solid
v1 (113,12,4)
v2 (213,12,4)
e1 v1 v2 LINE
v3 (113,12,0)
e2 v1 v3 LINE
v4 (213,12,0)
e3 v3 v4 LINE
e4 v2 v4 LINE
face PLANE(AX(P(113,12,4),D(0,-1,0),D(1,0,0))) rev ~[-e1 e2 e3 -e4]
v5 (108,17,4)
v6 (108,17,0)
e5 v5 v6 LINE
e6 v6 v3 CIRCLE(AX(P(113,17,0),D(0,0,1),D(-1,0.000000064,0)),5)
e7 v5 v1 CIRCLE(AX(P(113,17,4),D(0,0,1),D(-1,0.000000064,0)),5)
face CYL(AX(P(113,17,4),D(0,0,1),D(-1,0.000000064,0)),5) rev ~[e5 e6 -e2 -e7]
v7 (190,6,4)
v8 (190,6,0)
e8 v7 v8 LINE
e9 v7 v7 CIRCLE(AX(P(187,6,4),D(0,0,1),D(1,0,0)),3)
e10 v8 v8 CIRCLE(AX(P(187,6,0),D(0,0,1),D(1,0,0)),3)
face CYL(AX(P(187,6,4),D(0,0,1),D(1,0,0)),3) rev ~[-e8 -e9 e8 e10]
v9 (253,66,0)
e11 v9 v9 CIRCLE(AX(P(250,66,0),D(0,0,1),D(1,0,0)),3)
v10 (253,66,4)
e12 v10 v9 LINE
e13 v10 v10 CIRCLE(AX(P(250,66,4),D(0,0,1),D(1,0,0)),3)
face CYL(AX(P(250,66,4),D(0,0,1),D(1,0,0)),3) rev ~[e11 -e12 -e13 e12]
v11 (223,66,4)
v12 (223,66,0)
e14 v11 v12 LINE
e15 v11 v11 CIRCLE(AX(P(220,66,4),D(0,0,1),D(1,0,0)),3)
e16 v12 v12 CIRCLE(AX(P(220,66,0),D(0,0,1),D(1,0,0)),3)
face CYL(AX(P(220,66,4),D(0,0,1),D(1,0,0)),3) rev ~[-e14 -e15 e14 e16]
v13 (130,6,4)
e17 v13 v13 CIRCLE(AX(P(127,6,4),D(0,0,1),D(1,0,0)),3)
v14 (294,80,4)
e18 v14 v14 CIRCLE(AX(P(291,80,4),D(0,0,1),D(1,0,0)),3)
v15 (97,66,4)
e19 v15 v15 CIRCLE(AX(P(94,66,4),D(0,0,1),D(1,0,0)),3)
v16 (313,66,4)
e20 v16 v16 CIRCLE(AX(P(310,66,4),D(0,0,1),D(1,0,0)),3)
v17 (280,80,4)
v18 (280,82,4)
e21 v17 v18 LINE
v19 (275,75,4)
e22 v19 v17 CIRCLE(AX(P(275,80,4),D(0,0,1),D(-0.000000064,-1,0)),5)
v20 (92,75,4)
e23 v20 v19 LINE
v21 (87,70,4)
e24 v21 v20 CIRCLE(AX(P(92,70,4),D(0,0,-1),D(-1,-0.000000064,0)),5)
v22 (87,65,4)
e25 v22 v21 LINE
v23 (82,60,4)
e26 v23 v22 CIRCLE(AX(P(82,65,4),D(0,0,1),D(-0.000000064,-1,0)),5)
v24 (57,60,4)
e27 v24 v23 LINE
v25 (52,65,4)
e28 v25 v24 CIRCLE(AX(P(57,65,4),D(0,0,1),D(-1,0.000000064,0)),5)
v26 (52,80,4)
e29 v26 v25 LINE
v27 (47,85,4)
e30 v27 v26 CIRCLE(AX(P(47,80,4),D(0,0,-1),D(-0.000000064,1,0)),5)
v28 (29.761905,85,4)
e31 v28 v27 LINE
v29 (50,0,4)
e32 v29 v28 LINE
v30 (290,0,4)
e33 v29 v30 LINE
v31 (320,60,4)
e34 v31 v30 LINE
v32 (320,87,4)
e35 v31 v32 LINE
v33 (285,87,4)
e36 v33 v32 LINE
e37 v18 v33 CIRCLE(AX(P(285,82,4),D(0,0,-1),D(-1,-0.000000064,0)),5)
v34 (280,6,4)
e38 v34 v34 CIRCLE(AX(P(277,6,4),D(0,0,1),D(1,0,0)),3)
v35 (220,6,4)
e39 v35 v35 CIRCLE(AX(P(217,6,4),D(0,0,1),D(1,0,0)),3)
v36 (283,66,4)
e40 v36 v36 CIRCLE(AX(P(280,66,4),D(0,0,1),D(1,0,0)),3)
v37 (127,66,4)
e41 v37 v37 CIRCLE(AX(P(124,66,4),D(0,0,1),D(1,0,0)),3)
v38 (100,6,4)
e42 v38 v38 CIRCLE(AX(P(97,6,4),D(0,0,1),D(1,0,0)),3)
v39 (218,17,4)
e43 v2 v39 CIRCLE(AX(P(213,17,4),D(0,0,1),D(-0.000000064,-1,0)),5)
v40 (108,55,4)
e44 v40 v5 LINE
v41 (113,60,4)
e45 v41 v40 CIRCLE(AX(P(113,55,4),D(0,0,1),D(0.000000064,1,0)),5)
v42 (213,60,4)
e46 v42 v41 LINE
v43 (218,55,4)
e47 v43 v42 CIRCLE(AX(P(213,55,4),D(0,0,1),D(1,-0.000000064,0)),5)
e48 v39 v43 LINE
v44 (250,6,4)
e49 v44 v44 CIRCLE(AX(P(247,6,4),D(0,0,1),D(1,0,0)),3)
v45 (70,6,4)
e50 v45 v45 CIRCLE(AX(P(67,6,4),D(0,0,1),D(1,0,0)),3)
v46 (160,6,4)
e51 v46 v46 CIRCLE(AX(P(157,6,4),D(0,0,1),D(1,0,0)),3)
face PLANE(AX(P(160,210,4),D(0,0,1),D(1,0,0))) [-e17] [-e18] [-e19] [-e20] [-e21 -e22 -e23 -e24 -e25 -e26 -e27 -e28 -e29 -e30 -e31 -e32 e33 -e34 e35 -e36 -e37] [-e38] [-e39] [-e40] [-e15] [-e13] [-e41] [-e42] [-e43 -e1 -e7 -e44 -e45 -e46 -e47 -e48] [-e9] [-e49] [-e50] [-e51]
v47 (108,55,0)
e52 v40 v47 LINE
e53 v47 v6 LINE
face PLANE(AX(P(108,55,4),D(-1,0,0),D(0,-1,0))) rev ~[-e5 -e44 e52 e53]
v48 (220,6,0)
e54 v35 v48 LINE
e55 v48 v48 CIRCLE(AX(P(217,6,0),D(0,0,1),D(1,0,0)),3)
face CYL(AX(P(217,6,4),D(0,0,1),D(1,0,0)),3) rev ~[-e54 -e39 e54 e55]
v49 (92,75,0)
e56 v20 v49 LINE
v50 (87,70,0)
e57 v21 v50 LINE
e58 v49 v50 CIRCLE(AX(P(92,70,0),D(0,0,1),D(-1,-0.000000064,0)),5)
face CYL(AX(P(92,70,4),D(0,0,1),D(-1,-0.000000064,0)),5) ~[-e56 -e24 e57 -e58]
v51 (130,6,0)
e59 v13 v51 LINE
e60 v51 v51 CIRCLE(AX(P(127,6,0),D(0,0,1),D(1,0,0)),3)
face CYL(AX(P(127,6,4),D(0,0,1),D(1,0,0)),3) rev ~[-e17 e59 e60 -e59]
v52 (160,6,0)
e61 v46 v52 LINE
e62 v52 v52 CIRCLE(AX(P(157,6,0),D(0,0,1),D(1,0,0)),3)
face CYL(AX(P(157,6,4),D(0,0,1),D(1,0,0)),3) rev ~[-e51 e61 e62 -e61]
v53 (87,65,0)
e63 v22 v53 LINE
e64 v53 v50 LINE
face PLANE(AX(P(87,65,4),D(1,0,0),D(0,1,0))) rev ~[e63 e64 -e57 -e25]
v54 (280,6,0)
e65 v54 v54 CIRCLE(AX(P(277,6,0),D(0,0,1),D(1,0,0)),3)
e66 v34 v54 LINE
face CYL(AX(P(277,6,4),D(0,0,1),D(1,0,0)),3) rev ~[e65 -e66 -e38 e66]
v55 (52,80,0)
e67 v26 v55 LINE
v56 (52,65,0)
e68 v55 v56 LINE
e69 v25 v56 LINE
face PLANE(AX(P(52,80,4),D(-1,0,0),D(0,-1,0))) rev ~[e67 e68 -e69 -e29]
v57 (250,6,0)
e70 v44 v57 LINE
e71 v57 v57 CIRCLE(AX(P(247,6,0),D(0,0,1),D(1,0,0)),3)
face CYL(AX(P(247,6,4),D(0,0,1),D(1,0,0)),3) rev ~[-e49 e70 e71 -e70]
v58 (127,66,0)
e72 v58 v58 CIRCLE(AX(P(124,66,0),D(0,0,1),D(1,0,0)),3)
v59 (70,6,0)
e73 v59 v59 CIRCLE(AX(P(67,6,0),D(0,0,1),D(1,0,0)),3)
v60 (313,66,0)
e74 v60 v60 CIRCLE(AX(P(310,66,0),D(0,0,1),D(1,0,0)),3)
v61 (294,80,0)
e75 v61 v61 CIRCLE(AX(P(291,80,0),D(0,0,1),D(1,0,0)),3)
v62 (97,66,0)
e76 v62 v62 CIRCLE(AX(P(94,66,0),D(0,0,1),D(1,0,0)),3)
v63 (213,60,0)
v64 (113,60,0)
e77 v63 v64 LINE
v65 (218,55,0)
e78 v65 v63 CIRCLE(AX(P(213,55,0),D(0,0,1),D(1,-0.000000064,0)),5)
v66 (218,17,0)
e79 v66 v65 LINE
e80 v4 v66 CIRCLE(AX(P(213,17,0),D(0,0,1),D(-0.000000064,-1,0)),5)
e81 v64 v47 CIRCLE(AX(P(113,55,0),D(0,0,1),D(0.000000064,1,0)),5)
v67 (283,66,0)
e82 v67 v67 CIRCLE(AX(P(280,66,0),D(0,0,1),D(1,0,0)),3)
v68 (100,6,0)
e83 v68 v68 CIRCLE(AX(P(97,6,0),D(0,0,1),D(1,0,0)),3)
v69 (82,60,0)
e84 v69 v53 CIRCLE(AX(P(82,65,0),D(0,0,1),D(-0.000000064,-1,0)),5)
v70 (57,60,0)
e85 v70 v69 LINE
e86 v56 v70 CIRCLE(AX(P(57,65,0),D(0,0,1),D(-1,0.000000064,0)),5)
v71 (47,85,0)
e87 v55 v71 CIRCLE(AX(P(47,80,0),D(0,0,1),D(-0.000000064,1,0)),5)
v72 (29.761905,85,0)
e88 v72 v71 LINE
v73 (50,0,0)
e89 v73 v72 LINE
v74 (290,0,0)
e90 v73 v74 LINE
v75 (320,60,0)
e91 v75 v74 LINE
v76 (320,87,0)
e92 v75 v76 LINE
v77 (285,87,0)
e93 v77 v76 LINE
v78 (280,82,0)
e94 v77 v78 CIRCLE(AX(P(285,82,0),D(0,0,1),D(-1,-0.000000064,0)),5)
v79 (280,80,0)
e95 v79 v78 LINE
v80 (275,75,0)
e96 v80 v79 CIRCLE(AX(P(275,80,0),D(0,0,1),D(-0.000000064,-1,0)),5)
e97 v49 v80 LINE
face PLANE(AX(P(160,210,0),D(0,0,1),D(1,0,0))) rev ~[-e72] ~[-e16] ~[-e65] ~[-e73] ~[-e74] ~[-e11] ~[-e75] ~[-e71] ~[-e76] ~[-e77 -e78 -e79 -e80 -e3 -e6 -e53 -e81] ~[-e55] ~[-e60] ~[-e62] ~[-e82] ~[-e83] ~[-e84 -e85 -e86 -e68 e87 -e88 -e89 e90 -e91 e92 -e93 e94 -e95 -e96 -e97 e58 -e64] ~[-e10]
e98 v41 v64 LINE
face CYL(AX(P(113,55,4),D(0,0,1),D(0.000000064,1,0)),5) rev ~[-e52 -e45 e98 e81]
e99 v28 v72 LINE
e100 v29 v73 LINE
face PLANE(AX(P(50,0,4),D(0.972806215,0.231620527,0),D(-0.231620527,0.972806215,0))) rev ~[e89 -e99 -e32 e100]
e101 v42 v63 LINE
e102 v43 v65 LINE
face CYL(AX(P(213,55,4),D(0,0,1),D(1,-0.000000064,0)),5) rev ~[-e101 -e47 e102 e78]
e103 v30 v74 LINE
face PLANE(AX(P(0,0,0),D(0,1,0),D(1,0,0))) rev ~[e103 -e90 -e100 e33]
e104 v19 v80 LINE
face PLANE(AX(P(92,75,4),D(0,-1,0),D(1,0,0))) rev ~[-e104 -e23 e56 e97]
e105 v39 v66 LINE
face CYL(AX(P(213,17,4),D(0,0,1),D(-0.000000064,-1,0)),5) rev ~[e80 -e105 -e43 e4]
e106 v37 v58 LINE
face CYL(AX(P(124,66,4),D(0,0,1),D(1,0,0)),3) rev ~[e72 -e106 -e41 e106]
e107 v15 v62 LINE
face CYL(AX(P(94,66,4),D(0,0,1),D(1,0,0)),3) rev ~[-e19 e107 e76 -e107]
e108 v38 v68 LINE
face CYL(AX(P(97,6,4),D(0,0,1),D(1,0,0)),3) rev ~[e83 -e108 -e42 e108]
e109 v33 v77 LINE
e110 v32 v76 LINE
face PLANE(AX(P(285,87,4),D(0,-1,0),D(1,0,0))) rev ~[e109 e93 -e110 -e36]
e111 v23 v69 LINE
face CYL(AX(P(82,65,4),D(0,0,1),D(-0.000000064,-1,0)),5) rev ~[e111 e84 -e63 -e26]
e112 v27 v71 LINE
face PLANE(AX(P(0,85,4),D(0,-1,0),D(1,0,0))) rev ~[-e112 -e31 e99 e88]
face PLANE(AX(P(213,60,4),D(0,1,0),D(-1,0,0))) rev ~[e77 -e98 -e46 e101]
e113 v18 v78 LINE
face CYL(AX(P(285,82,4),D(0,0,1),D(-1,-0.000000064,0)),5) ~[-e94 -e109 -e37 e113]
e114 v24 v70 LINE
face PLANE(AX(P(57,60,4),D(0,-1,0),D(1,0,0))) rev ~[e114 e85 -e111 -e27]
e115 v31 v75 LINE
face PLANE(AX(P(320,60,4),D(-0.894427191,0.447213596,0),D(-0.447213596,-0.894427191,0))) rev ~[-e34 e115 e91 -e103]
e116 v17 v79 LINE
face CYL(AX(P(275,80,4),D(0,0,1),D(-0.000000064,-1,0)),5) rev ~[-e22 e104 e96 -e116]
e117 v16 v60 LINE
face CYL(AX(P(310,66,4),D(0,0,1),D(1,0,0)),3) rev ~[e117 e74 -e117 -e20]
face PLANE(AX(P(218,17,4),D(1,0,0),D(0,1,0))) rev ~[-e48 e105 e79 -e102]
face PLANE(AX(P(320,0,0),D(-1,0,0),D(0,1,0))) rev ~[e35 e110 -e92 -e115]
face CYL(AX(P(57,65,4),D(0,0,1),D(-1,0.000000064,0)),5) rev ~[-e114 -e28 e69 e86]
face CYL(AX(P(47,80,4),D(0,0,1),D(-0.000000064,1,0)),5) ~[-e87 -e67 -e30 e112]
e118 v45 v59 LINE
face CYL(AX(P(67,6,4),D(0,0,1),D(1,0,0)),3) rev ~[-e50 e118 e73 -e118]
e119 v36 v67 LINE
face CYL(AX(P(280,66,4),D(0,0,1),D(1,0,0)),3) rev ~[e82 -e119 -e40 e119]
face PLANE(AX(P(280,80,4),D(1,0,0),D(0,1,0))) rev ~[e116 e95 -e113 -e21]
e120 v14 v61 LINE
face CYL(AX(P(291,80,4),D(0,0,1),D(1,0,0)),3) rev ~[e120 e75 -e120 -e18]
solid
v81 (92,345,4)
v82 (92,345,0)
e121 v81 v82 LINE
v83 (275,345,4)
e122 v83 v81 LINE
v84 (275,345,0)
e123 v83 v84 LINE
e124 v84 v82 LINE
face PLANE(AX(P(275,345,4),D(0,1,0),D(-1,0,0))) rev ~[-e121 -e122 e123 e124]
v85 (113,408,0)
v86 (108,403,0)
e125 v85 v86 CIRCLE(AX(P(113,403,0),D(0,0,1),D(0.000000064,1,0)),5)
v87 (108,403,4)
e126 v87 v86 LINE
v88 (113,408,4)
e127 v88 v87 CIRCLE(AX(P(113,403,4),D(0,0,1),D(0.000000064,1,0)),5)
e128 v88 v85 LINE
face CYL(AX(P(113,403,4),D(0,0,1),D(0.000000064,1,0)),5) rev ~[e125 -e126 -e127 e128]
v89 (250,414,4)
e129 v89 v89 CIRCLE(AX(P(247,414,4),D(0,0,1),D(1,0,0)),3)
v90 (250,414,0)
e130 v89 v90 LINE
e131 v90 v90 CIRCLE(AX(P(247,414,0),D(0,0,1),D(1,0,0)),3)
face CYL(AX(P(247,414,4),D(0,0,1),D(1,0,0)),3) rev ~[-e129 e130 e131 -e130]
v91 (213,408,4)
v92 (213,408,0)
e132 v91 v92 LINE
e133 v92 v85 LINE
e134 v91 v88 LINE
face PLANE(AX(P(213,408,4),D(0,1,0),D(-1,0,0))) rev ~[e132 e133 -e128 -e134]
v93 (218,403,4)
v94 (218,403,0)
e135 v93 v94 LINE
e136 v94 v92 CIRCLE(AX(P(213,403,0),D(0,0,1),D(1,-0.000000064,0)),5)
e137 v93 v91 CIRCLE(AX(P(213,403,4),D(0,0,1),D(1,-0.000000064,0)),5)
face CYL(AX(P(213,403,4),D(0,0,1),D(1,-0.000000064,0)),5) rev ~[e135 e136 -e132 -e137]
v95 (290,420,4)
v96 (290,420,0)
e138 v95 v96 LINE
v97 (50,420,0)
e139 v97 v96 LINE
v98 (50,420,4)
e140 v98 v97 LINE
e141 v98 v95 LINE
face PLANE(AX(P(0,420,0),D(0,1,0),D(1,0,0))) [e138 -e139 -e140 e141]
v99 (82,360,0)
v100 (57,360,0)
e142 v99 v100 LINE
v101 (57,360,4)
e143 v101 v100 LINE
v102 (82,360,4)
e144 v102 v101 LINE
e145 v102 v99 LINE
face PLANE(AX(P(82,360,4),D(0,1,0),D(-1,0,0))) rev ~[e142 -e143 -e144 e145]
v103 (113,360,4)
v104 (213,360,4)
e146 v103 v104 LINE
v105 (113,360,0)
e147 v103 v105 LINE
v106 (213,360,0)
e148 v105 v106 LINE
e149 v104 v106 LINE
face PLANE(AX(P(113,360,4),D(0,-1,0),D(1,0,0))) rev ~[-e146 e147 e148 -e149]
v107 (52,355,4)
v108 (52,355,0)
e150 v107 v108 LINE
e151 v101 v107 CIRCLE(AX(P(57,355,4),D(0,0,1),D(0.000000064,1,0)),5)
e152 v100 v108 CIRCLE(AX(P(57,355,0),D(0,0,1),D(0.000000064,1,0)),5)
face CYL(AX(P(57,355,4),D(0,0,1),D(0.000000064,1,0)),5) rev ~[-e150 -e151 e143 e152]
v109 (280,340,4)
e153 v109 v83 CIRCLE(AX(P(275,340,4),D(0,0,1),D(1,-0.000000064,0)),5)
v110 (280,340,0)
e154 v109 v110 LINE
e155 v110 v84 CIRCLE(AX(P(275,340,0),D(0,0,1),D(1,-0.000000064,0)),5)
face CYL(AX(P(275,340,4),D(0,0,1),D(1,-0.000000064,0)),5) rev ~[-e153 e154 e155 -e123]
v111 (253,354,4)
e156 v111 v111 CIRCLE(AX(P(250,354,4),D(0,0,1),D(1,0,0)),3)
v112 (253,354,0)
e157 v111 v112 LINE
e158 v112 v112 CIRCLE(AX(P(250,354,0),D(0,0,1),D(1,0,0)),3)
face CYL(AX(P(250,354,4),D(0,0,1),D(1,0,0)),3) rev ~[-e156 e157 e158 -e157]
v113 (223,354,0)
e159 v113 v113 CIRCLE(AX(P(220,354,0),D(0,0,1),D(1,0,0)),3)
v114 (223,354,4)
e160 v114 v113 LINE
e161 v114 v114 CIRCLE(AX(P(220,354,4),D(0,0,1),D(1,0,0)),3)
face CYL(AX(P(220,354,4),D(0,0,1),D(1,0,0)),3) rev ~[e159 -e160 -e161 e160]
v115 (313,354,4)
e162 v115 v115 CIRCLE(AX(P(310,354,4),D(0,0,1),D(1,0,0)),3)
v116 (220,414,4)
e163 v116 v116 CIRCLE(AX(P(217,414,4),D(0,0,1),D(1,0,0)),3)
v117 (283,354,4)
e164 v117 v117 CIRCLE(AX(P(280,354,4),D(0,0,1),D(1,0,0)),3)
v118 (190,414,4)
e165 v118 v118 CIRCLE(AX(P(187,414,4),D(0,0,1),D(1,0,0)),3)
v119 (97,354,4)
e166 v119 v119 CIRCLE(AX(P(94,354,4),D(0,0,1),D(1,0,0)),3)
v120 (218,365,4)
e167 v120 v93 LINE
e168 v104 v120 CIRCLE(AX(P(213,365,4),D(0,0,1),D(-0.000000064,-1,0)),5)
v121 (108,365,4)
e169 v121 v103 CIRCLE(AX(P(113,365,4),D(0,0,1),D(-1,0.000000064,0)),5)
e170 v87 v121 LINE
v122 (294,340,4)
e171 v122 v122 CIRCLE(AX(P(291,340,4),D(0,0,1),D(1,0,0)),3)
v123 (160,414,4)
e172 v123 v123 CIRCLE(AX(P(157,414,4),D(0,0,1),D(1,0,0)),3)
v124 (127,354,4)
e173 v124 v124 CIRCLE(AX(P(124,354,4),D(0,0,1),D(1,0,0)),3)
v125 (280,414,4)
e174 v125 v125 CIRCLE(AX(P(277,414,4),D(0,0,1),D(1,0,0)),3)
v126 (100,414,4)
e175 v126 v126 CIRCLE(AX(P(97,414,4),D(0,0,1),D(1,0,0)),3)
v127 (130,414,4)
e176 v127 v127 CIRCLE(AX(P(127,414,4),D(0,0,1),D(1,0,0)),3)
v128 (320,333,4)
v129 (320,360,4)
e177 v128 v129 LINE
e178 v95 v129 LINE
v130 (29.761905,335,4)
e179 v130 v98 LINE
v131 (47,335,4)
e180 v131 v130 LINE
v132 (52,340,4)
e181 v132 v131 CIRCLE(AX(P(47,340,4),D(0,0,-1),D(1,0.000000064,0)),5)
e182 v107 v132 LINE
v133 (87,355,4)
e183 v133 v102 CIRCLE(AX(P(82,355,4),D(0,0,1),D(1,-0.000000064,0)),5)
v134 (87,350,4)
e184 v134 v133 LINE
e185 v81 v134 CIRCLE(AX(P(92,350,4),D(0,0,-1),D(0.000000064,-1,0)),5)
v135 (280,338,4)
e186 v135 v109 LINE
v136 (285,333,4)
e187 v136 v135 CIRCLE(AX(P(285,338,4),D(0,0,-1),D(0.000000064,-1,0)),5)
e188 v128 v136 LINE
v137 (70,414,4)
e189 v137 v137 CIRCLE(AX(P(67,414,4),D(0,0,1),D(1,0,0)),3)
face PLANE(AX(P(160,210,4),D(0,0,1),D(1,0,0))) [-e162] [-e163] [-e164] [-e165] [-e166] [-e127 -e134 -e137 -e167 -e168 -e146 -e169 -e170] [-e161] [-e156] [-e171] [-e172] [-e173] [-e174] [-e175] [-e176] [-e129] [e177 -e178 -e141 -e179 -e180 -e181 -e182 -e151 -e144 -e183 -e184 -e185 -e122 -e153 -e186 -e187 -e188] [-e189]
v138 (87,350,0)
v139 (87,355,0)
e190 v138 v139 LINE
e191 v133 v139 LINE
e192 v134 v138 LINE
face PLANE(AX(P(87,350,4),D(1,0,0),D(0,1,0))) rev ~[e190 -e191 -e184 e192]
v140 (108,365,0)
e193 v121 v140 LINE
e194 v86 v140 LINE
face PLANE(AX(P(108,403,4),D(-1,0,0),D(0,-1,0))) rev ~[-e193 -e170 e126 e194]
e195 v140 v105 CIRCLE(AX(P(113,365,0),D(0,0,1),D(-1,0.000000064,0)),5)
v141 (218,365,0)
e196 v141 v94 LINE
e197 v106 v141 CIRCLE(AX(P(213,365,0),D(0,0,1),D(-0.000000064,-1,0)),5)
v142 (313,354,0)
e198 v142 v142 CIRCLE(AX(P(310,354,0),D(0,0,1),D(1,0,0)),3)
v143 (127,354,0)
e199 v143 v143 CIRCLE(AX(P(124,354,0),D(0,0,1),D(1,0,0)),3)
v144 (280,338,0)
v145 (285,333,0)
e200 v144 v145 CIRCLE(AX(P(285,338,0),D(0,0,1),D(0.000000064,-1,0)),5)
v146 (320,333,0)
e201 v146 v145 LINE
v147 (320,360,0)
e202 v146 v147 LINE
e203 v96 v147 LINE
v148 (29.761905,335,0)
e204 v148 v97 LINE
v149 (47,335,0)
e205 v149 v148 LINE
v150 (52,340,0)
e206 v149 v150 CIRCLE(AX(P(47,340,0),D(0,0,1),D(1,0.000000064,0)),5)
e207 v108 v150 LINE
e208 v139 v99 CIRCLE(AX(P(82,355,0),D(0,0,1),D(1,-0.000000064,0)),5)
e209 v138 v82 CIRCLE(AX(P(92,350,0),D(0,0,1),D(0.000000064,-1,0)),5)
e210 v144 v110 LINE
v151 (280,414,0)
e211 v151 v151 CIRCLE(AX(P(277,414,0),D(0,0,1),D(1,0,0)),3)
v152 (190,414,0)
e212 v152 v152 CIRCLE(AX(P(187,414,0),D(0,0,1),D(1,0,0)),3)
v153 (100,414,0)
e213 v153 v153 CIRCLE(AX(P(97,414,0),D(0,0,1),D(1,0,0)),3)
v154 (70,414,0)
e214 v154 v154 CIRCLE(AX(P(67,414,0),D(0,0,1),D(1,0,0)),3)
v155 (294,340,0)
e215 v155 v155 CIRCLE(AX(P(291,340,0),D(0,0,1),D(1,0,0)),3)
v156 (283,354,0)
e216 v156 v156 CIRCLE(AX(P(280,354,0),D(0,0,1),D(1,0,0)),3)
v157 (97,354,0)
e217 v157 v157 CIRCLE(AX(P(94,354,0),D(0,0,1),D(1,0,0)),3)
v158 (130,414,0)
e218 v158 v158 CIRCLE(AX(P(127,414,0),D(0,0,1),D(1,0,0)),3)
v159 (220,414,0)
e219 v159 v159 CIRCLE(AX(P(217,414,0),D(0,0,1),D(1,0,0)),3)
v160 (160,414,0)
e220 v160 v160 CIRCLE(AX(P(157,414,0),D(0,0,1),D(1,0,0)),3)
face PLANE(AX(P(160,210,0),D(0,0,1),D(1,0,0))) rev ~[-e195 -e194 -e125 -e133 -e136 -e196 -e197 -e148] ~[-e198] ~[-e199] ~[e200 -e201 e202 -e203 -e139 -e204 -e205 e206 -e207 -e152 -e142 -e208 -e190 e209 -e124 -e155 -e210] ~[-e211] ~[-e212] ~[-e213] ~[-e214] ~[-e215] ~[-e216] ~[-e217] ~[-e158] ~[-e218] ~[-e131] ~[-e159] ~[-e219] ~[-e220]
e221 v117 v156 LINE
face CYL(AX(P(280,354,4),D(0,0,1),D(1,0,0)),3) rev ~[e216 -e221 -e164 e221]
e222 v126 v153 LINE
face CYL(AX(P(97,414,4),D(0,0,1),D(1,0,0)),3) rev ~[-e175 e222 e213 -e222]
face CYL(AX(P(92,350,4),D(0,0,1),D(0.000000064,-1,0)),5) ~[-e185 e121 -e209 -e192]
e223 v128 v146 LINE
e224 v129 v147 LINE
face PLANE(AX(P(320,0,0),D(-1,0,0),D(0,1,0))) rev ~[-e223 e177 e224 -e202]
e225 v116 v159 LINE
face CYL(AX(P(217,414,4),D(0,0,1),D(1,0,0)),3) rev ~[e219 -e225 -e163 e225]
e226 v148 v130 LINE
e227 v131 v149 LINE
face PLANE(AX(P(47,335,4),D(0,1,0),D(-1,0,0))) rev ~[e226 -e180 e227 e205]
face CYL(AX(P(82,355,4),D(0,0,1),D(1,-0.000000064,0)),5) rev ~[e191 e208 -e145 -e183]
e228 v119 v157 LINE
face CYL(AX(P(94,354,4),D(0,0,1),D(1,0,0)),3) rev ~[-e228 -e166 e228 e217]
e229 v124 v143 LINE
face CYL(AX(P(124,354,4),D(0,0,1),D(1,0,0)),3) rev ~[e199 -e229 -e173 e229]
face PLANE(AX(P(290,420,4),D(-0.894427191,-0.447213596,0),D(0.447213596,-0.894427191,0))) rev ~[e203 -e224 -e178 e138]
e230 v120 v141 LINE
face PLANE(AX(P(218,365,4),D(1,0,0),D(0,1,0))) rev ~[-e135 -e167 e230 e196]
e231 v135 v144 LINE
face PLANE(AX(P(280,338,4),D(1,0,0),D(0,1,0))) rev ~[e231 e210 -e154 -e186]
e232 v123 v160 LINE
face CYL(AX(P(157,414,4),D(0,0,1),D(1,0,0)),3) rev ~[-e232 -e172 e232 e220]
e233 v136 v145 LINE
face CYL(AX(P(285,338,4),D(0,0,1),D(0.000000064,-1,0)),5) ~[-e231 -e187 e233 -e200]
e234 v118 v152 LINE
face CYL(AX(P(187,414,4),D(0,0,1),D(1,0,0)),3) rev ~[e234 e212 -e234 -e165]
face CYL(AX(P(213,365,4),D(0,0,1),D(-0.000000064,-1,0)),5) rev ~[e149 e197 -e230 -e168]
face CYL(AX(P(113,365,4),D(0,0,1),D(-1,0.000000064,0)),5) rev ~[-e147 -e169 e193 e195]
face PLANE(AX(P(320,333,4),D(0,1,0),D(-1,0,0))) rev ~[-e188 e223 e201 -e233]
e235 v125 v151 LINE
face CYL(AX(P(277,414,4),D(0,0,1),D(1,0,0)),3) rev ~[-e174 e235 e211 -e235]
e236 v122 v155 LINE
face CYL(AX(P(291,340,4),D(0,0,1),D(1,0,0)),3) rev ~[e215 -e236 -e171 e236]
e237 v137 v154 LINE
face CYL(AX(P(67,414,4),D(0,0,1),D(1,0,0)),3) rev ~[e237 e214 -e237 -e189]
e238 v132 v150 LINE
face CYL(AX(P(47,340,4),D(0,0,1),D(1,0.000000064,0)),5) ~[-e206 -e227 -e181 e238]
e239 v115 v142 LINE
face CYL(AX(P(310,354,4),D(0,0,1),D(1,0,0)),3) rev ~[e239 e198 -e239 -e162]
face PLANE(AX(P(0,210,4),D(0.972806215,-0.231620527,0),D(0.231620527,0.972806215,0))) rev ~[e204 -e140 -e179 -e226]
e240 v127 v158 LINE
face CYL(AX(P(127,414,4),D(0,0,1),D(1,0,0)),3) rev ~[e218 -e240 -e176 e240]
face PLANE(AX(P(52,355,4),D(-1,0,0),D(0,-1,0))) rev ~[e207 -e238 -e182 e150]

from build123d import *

# Parameters (mm, degrees)
F0_W      = 320
F0_H      = 420
F1_DEPTH  = 4
F3_DEPTH  = 4
F4_R      = 3
F5_DEPTH  = 25
F6_R      = 3
F7_DEPTH  = 25
F8_R      = 3
F9_DEPTH  = 25
F11_DEPTH = 25


with BuildPart() as f1:
    # F0 (on Top) → F1 (new body)
    with BuildSketch(Plane.XY):
        with Locations((160, 210)):
            Rectangle(F0_W, F0_H)
    extrude(amount=F1_DEPTH)

    # F2 (on face) → F3 (cut, through all)
    with BuildSketch(Plane.XY.offset(4)):
        Polygon((320, 420), (290, 420), (320, 360), align=None)
        Polygon((320, 60), (290, 0), (320, 0), align=None)
        with BuildLine():
            Line((113, 360), (213, 360))
            ThreePointArc((213, 360), (216.535534, 361.464466), (218, 365))
            Line((218, 365), (218, 403))
            ThreePointArc((218, 403), (216.535534, 406.535534), (213, 408))
            Line((213, 408), (113, 408))
            ThreePointArc((113, 408), (109.464466, 406.535534), (108, 403))
            Line((108, 403), (108, 365))
            ThreePointArc((108, 365), (109.464466, 361.464466), (113, 360))
        make_face()
        with BuildLine():
            Line((113, 12), (213, 12))
            ThreePointArc((213, 12), (216.535534, 13.464466), (218, 17))
            Line((218, 17), (218, 55))
            ThreePointArc((218, 55), (216.535534, 58.535534), (213, 60))
            Line((213, 60), (113, 60))
            ThreePointArc((113, 60), (109.464466, 58.535534), (108, 55))
            Line((108, 55), (108, 17))
            ThreePointArc((108, 17), (109.464466, 13.464466), (113, 12))
        make_face()
        Polygon((0, 420), (0, 210), (50, 420), align=None)
        Polygon((50, 0), (0, 210), (0, 0), align=None)
    extrude(amount=-F3_DEPTH, mode=Mode.SUBTRACT)

    # F4 (on face) → F5 (cut)
    with BuildSketch(Plane.XY.offset(4)):
        with Locations((67, 6)):
            Circle(F4_R)
        with Locations((97, 6)):
            Circle(F4_R)
        with Locations((127, 6)):
            Circle(F4_R)
        with Locations((157, 6)):
            Circle(F4_R)
        with Locations((187, 6)):
            Circle(F4_R)
        with Locations((217, 6)):
            Circle(F4_R)
        with Locations((247, 6)):
            Circle(F4_R)
        with Locations((277, 6)):
            Circle(F4_R)
        with Locations((64, 66)):
            Circle(F4_R)
        with Locations((94, 66)):
            Circle(F4_R)
        with Locations((124, 66)):
            Circle(F4_R)
        with Locations((220, 66)):
            Circle(F4_R)
        with Locations((250, 66)):
            Circle(F4_R)
        with Locations((280, 66)):
            Circle(F4_R)
        with Locations((310, 66)):
            Circle(F4_R)
        with Locations((67, 414)):
            Circle(F4_R)
        with Locations((64, 354)):
            Circle(F4_R)
        with Locations((97, 414)):
            Circle(F4_R)
        with Locations((310, 354)):
            Circle(F4_R)
        with Locations((277, 414)):
            Circle(F4_R)
        with Locations((94, 354)):
            Circle(F4_R)
        with Locations((220, 354)):
            Circle(F4_R)
        with Locations((280, 354)):
            Circle(F4_R)
        with Locations((124, 354)):
            Circle(F4_R)
        with Locations((127, 414)):
            Circle(F4_R)
        with Locations((250, 354)):
            Circle(F4_R)
        with Locations((157, 414)):
            Circle(F4_R)
        with Locations((187, 414)):
            Circle(F4_R)
        with Locations((217, 414)):
            Circle(F4_R)
        with Locations((247, 414)):
            Circle(F4_R)
    extrude(amount=-F5_DEPTH, mode=Mode.SUBTRACT)

    # F6 (on face) → F7 (cut)
    with BuildSketch(Plane.XY.offset(4)):
        with Locations((121, 90)):
            Circle(F6_R)
        with Locations((121, 130)):
            Circle(F6_R)
        with Locations((121, 170)):
            Circle(F6_R)
        with Locations((206, 90)):
            Circle(F6_R)
        with Locations((206, 130)):
            Circle(F6_R)
        with Locations((206, 170)):
            Circle(F6_R)
        with Locations((291, 80)):
            Circle(F6_R)
        with Locations((291, 120)):
            Circle(F6_R)
        with Locations((291, 160)):
            Circle(F6_R)
        with Locations((121, 330)):
            Circle(F6_R)
        with Locations((121, 290)):
            Circle(F6_R)
        with Locations((206, 330)):
            Circle(F6_R)
        with Locations((206, 250)):
            Circle(F6_R)
        with Locations((291, 340)):
            Circle(F6_R)
        with Locations((121, 250)):
            Circle(F6_R)
        with Locations((206, 290)):
            Circle(F6_R)
        with Locations((291, 300)):
            Circle(F6_R)
        with Locations((291, 260)):
            Circle(F6_R)
    extrude(amount=-F7_DEPTH, mode=Mode.SUBTRACT)

    # F8 (on face) → F9 (cut)
    with BuildSketch(Plane.XY.offset(4)):
        with Locations((15, 210)):
            Circle(F8_R)
        with Locations((45, 210)):
            Circle(F8_R)
    extrude(amount=-F9_DEPTH, mode=Mode.SUBTRACT)

    # F10 (on face) → F11 (cut)
    with BuildSketch(Plane.XY.offset(4)):
        with BuildLine():
            Line((87, 350), (87, 355))
            ThreePointArc((87, 355), (85.535534, 358.535534), (82, 360))
            Line((82, 360), (57, 360))
            ThreePointArc((57, 360), (53.464466, 358.535534), (52, 355))
            Line((52, 355), (52, 340))
            ThreePointArc((52, 340), (50.535534, 336.464466), (47, 335))
            Line((47, 335), (0, 335))
            Line((0, 335), (0, 210))
            Line((0, 210), (0, 85))
            Line((0, 85), (47, 85))
            ThreePointArc((47, 85), (50.535534, 83.535534), (52, 80))
            Line((52, 80), (52, 65))
            ThreePointArc((52, 65), (53.464466, 61.464466), (57, 60))
            Line((57, 60), (82, 60))
            ThreePointArc((82, 60), (85.535534, 61.464466), (87, 65))
            Line((87, 65), (87, 70))
            ThreePointArc((87, 70), (88.464466, 73.535534), (92, 75))
            Line((92, 75), (275, 75))
            ThreePointArc((275, 75), (278.535534, 76.464466), (280, 80))
            Line((280, 80), (280, 82))
            ThreePointArc((280, 82), (281.464466, 85.535534), (285, 87))
            Line((285, 87), (320, 87))
            Line((320, 87), (320, 210))
            Line((320, 210), (320, 333))
            Line((320, 333), (285, 333))
            ThreePointArc((285, 333), (281.464466, 334.464466), (280, 338))
            Line((280, 338), (280, 340))
            ThreePointArc((280, 340), (278.535534, 343.535534), (275, 345))
            Line((275, 345), (92, 345))
            ThreePointArc((92, 345), (88.464466, 346.464466), (87, 350))
        make_face()
    extrude(amount=-F11_DEPTH, mode=Mode.SUBTRACT)


solid = f1.part
